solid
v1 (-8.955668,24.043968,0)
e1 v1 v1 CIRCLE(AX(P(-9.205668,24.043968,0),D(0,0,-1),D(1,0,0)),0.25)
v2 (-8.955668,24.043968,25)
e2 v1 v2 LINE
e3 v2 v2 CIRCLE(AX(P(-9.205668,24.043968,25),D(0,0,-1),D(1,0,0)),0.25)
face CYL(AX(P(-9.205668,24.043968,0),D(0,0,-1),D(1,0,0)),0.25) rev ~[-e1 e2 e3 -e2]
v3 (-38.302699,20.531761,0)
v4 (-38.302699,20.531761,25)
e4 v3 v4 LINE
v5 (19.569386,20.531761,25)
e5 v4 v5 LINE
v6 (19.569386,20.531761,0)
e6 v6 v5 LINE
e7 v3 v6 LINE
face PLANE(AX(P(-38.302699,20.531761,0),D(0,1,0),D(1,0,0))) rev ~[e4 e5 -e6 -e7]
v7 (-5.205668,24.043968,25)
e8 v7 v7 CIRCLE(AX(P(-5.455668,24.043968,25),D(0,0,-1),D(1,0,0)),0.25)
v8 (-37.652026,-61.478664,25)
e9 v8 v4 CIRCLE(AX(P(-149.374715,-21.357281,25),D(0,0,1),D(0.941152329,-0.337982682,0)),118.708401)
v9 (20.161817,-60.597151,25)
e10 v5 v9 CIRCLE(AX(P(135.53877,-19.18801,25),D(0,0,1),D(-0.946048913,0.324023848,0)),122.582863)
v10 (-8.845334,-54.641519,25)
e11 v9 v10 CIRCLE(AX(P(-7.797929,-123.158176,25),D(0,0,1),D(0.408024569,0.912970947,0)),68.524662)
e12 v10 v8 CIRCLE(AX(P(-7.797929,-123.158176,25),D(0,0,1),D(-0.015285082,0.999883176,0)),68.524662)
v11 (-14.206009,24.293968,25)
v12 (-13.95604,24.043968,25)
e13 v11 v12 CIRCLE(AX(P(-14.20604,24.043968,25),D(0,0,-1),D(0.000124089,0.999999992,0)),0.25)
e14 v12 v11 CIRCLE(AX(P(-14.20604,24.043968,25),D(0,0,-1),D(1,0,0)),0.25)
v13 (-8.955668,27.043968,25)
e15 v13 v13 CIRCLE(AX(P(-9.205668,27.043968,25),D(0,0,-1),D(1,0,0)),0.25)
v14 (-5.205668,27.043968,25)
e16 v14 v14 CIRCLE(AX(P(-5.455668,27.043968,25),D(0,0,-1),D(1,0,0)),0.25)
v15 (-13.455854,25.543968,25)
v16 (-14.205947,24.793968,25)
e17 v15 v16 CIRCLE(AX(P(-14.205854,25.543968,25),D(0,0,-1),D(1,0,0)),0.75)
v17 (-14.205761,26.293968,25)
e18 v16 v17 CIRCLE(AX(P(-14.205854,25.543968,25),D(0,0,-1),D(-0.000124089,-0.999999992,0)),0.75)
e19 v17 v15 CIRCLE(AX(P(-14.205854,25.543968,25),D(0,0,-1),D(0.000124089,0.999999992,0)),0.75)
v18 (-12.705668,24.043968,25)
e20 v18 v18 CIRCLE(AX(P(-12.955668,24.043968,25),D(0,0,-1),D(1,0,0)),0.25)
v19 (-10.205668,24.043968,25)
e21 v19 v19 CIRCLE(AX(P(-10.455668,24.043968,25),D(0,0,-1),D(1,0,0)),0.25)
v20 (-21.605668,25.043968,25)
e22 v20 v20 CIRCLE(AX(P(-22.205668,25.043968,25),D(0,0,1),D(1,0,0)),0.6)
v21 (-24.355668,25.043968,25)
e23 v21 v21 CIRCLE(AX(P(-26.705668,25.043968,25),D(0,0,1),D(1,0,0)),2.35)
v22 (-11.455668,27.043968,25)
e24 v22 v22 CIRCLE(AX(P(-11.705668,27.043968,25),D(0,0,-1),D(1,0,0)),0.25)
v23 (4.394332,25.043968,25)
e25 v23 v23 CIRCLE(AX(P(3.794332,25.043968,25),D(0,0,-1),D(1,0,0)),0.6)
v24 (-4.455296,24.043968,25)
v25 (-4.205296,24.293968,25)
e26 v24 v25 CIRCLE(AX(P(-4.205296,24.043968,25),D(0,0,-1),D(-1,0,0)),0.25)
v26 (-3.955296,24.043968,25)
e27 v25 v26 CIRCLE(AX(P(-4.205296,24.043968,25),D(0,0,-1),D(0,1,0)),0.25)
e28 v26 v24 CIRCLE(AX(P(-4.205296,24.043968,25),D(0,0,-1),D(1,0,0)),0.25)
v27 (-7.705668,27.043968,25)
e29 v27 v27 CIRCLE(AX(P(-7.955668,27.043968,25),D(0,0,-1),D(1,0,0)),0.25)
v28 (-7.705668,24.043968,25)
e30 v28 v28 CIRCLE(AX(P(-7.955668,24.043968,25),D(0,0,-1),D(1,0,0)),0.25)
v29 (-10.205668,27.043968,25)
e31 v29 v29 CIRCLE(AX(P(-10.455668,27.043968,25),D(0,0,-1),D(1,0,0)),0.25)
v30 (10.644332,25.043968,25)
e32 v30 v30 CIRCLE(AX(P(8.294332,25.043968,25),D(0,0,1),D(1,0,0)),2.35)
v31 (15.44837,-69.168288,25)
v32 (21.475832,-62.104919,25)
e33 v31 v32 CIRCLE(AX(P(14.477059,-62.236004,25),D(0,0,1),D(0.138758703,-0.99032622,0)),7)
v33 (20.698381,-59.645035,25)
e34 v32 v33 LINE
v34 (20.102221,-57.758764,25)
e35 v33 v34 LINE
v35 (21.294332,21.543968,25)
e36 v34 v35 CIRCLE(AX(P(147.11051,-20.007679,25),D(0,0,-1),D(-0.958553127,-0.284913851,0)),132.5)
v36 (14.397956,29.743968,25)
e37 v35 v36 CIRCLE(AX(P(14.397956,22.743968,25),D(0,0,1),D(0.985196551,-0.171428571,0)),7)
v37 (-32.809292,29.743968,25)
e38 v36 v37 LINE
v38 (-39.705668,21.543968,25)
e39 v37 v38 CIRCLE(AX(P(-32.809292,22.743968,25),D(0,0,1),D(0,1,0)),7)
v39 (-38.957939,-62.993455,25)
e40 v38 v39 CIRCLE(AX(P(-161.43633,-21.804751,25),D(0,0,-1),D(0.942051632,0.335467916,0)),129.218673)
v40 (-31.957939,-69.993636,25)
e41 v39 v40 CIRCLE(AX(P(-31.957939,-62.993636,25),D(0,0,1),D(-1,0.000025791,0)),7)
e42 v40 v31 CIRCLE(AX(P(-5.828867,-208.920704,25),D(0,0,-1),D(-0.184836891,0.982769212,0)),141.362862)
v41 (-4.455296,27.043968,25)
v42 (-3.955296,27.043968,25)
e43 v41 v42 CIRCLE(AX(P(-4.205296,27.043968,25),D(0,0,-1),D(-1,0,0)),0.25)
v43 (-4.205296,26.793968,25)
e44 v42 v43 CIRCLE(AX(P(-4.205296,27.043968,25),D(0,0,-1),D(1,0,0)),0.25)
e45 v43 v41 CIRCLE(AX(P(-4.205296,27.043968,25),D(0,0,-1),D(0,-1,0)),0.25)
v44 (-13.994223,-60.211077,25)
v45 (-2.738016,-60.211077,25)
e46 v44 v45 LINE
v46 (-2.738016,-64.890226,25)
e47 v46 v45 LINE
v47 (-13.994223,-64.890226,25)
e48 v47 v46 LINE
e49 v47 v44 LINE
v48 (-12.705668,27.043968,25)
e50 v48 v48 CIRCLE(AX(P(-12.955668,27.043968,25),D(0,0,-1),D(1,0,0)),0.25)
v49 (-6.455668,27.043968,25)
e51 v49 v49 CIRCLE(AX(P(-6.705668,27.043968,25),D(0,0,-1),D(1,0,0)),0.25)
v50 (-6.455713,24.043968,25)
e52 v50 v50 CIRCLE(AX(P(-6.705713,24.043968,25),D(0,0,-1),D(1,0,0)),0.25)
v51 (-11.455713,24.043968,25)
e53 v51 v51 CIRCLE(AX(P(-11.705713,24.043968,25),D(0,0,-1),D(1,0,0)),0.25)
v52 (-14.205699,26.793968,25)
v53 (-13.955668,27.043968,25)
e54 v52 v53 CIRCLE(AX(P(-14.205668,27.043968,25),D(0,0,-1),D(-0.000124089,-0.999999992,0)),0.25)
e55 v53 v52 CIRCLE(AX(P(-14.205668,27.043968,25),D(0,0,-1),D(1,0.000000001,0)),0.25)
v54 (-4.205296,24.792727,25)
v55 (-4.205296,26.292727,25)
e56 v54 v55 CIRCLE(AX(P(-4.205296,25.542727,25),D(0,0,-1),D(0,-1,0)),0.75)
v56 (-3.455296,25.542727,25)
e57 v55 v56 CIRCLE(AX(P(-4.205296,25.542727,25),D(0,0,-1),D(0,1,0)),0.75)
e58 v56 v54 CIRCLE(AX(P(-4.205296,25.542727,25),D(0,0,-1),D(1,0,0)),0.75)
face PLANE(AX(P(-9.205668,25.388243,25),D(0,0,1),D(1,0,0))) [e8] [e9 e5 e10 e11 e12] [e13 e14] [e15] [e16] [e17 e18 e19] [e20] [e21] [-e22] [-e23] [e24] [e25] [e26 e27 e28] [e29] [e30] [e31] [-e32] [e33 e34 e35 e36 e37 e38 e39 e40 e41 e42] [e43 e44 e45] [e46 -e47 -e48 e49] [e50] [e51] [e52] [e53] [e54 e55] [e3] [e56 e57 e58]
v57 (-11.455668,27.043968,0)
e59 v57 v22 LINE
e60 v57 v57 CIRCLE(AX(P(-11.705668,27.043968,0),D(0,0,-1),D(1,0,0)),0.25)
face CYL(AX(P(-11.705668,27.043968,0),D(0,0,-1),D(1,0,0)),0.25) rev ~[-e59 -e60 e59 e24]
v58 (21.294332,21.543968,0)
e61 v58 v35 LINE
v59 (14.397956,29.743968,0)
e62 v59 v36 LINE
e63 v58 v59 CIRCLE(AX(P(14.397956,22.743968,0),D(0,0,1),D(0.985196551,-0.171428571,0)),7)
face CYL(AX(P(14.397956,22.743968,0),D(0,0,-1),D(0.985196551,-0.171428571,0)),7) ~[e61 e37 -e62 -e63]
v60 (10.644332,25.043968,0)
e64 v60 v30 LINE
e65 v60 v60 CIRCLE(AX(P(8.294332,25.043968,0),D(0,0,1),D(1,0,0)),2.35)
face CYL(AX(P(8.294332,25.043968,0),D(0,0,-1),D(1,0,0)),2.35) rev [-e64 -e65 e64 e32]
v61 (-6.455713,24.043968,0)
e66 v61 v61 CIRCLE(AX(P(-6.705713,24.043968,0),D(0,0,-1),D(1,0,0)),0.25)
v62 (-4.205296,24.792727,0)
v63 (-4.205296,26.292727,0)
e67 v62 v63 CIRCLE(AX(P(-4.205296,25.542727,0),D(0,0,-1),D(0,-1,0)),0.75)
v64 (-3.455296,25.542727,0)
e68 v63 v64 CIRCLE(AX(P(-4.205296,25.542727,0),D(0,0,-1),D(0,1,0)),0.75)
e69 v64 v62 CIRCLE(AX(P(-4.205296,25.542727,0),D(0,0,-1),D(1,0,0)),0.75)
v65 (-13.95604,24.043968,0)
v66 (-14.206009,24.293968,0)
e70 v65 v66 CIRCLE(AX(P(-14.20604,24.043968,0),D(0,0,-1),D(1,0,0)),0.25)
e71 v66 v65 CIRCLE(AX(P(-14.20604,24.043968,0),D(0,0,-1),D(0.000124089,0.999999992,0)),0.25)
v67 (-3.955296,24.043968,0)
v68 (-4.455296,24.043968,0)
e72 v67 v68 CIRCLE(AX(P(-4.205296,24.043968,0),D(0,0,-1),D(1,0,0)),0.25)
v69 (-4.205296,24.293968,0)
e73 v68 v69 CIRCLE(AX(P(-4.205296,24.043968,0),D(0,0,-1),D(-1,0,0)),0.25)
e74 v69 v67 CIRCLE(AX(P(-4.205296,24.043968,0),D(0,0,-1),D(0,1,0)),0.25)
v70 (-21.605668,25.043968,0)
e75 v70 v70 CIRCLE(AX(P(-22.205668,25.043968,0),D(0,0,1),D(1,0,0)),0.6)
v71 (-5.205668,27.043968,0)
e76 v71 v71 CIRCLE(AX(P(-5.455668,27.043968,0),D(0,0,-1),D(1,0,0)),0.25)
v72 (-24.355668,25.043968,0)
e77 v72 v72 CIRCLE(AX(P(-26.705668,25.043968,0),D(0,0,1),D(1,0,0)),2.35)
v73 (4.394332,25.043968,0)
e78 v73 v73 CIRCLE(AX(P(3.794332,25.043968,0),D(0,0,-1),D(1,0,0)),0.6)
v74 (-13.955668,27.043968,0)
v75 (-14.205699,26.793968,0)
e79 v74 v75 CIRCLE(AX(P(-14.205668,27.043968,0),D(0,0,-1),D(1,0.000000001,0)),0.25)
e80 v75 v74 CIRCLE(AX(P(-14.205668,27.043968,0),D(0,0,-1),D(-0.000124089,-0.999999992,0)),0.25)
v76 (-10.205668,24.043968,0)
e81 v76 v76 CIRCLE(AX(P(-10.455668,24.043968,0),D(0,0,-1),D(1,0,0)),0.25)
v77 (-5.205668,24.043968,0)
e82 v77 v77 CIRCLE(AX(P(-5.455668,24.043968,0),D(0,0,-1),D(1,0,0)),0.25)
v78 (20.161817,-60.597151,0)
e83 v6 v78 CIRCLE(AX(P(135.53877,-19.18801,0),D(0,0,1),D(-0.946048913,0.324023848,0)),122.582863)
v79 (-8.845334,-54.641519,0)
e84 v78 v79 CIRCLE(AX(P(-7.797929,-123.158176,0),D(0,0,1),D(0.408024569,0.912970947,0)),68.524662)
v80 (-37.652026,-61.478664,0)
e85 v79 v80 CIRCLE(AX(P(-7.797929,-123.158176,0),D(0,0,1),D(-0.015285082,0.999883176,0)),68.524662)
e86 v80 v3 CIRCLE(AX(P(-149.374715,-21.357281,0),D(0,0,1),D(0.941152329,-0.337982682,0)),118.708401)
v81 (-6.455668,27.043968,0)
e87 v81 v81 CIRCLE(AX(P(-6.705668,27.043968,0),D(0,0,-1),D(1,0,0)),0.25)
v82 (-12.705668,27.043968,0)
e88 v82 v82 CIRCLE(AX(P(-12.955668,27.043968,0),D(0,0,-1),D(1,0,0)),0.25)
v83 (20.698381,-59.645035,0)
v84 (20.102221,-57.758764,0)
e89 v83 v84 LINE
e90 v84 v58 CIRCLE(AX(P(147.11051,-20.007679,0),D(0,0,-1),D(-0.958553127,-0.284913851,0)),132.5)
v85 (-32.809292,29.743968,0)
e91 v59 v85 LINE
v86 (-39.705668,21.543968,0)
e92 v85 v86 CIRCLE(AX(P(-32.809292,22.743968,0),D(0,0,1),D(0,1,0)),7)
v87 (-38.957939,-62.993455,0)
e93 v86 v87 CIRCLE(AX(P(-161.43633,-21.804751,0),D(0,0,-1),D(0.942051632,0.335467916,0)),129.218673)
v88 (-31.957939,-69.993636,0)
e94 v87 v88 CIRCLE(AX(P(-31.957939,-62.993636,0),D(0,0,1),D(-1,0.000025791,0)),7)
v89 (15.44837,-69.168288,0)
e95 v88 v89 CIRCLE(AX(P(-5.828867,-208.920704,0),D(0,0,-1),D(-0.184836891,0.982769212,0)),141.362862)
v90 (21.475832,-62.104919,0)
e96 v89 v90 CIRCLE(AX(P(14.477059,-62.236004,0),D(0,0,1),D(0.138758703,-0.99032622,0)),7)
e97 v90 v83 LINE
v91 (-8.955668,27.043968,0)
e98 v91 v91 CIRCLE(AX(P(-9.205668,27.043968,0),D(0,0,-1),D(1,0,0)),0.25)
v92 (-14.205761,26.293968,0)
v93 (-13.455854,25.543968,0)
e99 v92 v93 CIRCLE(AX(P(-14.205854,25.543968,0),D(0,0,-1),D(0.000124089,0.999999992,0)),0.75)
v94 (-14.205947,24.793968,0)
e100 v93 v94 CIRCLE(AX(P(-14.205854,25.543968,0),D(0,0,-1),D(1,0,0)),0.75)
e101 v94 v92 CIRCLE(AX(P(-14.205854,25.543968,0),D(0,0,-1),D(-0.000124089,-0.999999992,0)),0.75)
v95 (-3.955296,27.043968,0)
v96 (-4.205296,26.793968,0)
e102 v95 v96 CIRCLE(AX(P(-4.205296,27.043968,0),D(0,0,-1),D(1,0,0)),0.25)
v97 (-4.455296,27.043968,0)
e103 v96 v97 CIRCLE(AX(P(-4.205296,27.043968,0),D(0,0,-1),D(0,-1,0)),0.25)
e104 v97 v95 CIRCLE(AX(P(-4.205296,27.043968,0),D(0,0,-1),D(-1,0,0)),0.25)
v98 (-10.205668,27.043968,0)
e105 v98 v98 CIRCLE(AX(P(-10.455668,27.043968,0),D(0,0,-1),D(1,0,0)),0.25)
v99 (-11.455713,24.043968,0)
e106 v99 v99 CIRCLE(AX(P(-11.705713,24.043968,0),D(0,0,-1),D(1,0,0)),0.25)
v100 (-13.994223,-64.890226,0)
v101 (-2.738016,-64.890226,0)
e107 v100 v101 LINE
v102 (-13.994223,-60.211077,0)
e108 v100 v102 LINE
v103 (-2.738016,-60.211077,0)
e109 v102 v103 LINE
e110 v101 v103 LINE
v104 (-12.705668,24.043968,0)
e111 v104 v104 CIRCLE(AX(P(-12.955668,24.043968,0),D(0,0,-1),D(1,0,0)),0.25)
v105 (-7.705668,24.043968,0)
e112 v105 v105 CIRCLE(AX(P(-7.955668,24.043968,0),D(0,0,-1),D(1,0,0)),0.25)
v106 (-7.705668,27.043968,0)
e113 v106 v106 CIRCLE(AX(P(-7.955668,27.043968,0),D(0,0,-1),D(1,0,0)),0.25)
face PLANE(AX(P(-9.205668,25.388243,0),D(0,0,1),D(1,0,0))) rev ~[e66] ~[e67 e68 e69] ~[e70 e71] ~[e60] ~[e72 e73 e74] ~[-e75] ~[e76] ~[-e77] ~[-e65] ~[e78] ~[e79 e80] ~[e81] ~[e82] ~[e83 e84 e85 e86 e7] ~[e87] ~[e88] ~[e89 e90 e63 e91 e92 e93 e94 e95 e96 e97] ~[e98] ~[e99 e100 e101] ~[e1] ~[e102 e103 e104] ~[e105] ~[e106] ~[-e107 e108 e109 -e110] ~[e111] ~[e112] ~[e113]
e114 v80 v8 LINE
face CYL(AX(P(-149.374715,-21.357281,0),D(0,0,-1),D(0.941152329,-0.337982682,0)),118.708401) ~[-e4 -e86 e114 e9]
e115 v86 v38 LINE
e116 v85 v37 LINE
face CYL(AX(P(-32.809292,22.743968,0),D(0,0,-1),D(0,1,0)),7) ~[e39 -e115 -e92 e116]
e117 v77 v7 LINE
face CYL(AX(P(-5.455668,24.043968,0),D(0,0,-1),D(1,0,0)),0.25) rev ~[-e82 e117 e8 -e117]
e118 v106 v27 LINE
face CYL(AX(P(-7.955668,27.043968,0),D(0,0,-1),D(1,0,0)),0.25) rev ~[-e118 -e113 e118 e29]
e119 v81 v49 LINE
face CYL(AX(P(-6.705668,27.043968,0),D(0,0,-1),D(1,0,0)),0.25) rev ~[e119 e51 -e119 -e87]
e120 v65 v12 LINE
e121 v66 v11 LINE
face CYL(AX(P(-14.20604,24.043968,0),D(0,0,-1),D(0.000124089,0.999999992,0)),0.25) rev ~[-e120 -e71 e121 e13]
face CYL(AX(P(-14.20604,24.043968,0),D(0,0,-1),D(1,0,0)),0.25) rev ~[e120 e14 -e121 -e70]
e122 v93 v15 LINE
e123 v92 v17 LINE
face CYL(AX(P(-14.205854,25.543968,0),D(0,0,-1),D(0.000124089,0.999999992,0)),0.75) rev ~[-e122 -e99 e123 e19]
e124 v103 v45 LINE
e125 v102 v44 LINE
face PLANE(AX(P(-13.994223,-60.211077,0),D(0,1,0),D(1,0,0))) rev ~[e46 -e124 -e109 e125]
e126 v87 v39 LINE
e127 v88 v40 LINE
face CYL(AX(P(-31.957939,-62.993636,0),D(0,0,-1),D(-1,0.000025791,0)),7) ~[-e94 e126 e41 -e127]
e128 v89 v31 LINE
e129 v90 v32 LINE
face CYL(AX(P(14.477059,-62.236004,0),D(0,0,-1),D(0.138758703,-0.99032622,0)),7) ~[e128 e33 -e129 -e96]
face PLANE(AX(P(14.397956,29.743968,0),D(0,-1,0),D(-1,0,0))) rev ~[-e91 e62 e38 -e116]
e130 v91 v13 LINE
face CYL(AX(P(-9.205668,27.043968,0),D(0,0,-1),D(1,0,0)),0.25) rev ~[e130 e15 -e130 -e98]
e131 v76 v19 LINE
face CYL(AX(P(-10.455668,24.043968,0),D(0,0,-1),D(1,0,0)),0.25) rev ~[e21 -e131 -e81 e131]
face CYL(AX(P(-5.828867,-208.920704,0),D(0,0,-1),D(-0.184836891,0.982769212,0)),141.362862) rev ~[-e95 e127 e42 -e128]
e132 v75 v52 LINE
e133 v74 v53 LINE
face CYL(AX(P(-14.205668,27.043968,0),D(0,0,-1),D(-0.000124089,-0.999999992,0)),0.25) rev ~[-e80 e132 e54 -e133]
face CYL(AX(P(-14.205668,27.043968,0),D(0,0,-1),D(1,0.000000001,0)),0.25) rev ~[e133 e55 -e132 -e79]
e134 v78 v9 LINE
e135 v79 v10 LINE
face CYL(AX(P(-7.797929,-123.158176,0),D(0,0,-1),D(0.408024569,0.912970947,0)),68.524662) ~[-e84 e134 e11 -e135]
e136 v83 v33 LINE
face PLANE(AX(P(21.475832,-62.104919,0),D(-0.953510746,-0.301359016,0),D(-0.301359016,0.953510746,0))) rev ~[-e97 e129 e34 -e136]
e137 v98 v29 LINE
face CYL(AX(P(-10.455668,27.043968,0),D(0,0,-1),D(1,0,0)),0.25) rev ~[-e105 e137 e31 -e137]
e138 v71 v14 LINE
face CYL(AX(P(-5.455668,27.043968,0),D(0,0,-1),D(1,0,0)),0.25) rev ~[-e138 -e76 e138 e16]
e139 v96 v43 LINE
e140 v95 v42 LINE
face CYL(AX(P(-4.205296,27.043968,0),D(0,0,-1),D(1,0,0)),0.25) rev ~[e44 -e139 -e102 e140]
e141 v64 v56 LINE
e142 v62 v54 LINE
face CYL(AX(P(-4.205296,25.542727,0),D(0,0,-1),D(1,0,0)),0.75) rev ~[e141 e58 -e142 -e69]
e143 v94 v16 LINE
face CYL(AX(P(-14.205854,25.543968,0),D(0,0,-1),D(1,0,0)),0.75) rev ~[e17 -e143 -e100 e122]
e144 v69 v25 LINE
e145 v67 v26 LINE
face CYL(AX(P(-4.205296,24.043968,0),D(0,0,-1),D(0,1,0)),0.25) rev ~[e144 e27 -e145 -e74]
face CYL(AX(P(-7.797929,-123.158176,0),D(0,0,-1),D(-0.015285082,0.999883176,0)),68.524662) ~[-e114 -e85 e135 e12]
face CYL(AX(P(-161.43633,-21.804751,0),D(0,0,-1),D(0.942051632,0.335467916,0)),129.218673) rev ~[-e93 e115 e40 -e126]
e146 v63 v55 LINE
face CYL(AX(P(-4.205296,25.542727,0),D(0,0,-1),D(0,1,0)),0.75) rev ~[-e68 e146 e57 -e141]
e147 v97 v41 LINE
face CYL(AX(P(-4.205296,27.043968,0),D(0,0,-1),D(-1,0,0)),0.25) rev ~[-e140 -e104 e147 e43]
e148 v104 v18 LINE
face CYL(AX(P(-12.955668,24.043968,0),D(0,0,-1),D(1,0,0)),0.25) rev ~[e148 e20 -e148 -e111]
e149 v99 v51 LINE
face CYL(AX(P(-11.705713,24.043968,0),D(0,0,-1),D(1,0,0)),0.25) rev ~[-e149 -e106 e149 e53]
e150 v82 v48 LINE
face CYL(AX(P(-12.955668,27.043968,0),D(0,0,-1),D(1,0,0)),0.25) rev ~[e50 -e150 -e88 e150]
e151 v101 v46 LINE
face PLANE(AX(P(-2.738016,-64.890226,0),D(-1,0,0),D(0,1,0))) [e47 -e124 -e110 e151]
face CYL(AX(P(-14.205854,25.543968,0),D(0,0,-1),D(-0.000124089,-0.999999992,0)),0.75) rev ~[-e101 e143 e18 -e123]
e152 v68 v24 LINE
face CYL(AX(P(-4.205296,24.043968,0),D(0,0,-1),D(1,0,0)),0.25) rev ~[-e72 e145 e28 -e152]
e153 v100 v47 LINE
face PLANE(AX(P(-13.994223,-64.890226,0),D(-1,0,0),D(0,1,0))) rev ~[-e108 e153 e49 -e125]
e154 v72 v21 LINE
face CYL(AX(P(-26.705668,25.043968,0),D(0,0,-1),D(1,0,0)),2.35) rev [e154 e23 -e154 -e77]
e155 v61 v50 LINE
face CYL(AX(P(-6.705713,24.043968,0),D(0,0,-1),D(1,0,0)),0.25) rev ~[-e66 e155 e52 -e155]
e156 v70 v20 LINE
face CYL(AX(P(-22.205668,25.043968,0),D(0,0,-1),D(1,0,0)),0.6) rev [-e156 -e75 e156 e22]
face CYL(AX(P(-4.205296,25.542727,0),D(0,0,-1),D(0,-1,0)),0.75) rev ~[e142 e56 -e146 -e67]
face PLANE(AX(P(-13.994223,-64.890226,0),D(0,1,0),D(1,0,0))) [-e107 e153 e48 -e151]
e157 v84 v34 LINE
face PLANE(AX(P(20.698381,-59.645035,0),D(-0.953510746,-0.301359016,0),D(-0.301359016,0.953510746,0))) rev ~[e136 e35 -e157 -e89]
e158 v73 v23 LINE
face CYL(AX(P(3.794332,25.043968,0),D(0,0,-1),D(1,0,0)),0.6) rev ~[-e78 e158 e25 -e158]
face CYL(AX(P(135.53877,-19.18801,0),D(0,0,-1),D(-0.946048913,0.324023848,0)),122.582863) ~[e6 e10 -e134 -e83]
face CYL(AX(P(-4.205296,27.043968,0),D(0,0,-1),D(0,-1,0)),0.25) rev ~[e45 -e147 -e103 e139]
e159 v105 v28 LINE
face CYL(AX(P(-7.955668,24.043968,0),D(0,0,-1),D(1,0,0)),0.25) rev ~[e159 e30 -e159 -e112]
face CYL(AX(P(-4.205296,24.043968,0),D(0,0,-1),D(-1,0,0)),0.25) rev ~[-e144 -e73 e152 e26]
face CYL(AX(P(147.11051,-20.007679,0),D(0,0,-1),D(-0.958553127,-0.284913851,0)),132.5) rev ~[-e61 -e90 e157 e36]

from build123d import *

# Parameters (mm, degrees)
F0_R     = 2.35
F0_R_2   = 0.6
F0_W     = 11.2562068871
F0_H     = 4.6791491237
F1_DEPTH = 25


with BuildPart() as f1:
    # F0 (on Top) → F1 (new body)
    with BuildSketch(Plane.XY):
        with BuildLine():
            Line((14.3979561755, 29.7439676553), (-32.8092921048, 29.7439676553))
            ThreePointArc((-32.8092921048, 29.7439676553), (-38.1665301992, 27.2495197857), (-39.7056679646, 21.5439676553))
            Line((-39.7056679646, 21.5439676553), (21.2943320354, 21.5439676553))
            ThreePointArc((21.2943320354, 21.5439676553), (19.7551942699, 27.2495197857), (14.3979561755, 29.7439676553))
        make_face()
        with Locations((-26.7056679646, 25.0439676553)):
            Circle(F0_R, mode=Mode.SUBTRACT)
        with Locations((-22.2056679646, 25.0439676553)):
            Circle(F0_R_2, mode=Mode.SUBTRACT)
        with BuildLine():
            ThreePointArc((-14.2060092107, 24.2939676534), (-14.0292525699, 24.2207333822), (-13.9560402329, 24.0439676553))
            ThreePointArc((-13.9560402329, 24.0439676553), (-14.3828278959, 23.8672019284), (-14.2060092107, 24.2939676534))
        make_face(mode=Mode.SUBTRACT)
        with BuildLine():
            ThreePointArc((-13.4558540993, 25.5439676553), (-13.6755569185, 25.0136046664), (-14.2059471661, 24.7939676611))
            ThreePointArc((-14.2059471661, 24.7939676611), (-14.9558540936, 25.5440607221), (-14.2057610325, 26.2939676495))
            ThreePointArc((-14.2057610325, 26.2939676495), (-13.6754911104, 26.0742648361), (-13.4558540993, 25.5439676553))
        make_face(mode=Mode.SUBTRACT)
        with BuildLine():
            ThreePointArc((-13.9556679658, 27.0439676553), (-14.0289022388, 26.8671799923), (-14.205698988, 26.7939676572))
            ThreePointArc((-14.205698988, 26.7939676572), (-14.3824336927, 27.2207553183), (-13.9556679658, 27.0439676553))
        make_face(mode=Mode.SUBTRACT)
        with BuildLine():
            ThreePointArc((-13.2056679646, 24.0439676553), (-12.9556679646, 24.2939676553), (-12.7056679646, 24.0439676553))
            ThreePointArc((-12.7056679646, 24.0439676553), (-12.9556679646, 23.7939676553), (-13.2056679646, 24.0439676553))
        make_face(mode=Mode.SUBTRACT)
        with BuildLine():
            ThreePointArc((-11.9557127462, 24.0439676553), (-11.7057127462, 24.2939676553), (-11.4557127462, 24.0439676553))
            ThreePointArc((-11.4557127462, 24.0439676553), (-11.7057127462, 23.7939676553), (-11.9557127462, 24.0439676553))
        make_face(mode=Mode.SUBTRACT)
        with BuildLine():
            ThreePointArc((-10.7056679646, 24.0439676553), (-10.4556679646, 24.2939676553), (-10.2056679646, 24.0439676553))
            ThreePointArc((-10.2056679646, 24.0439676553), (-10.4556679646, 23.7939676553), (-10.7056679646, 24.0439676553))
        make_face(mode=Mode.SUBTRACT)
        with BuildLine():
            ThreePointArc((-9.4556679644, 24.0439676553), (-9.2056679644, 24.2939676553), (-8.9556679644, 24.0439676553))
            ThreePointArc((-8.9556679644, 24.0439676553), (-9.2056679644, 23.7939676553), (-9.4556679644, 24.0439676553))
        make_face(mode=Mode.SUBTRACT)
        with BuildLine():
            ThreePointArc((-13.2056679651, 27.0439676553), (-12.9556679651, 27.2939676553), (-12.7056679651, 27.0439676553))
            ThreePointArc((-12.7056679651, 27.0439676553), (-12.9556679651, 26.7939676553), (-13.2056679651, 27.0439676553))
        make_face(mode=Mode.SUBTRACT)
        with BuildLine():
            ThreePointArc((-11.9556679649, 27.0439676553), (-11.7056679649, 27.2939676553), (-11.4556679649, 27.0439676553))
            ThreePointArc((-11.4556679649, 27.0439676553), (-11.7056679649, 26.7939676553), (-11.9556679649, 27.0439676553))
        make_face(mode=Mode.SUBTRACT)
        with BuildLine():
            ThreePointArc((-10.7056679648, 27.0439676553), (-10.4556679648, 27.2939676553), (-10.2056679648, 27.0439676553))
            ThreePointArc((-10.2056679648, 27.0439676553), (-10.4556679648, 26.7939676553), (-10.7056679648, 27.0439676553))
        make_face(mode=Mode.SUBTRACT)
        with BuildLine():
            ThreePointArc((-9.4556679646, 27.0439676553), (-9.2056679646, 27.2939676553), (-8.9556679646, 27.0439676553))
            ThreePointArc((-8.9556679646, 27.0439676553), (-9.2056679646, 26.7939676553), (-9.4556679646, 27.0439676553))
        make_face(mode=Mode.SUBTRACT)
        with BuildLine():
            ThreePointArc((-8.2056679646, 24.0439676553), (-7.9556679646, 24.2939676553), (-7.7056679646, 24.0439676553))
            ThreePointArc((-7.7056679646, 24.0439676553), (-7.9556679646, 23.7939676553), (-8.2056679646, 24.0439676553))
        make_face(mode=Mode.SUBTRACT)
        with BuildLine():
            ThreePointArc((-6.9557127451, 24.0439676553), (-6.7057127451, 24.2939676553), (-6.4557127451, 24.0439676553))
            ThreePointArc((-6.4557127451, 24.0439676553), (-6.7057127451, 23.7939676553), (-6.9557127451, 24.0439676553))
        make_face(mode=Mode.SUBTRACT)
        with BuildLine():
            ThreePointArc((-5.7056679646, 24.0439676553), (-5.4556679646, 24.2939676553), (-5.2056679646, 24.0439676553))
            ThreePointArc((-5.2056679646, 24.0439676553), (-5.4556679646, 23.7939676553), (-5.7056679646, 24.0439676553))
        make_face(mode=Mode.SUBTRACT)
        with BuildLine():
            ThreePointArc((-8.2056679645, 27.0439676553), (-7.9556679645, 27.2939676553), (-7.7056679645, 27.0439676553))
            ThreePointArc((-7.7056679645, 27.0439676553), (-7.9556679645, 26.7939676553), (-8.2056679645, 27.0439676553))
        make_face(mode=Mode.SUBTRACT)
        with BuildLine():
            ThreePointArc((-6.9556679644, 27.0439676553), (-6.7056679644, 27.2939676553), (-6.4556679644, 27.0439676553))
            ThreePointArc((-6.4556679644, 27.0439676553), (-6.7056679644, 26.7939676553), (-6.9556679644, 27.0439676553))
        make_face(mode=Mode.SUBTRACT)
        with BuildLine():
            ThreePointArc((-5.7056679642, 27.0439676553), (-5.4556679642, 27.2939676553), (-5.2056679642, 27.0439676553))
            ThreePointArc((-5.2056679642, 27.0439676553), (-5.4556679642, 26.7939676553), (-5.7056679642, 27.0439676553))
        make_face(mode=Mode.SUBTRACT)
        with BuildLine():
            ThreePointArc((-4.4552956958, 24.0439676553), (-4.3820723911, 24.2207443506), (-4.2052956958, 24.2939676553))
            ThreePointArc((-4.2052956958, 24.2939676553), (-4.0285190005, 24.2207443506), (-3.9552956958, 24.0439676553))
            ThreePointArc((-3.9552956958, 24.0439676553), (-4.2052956958, 23.7939676553), (-4.4552956958, 24.0439676553))
        make_face(mode=Mode.SUBTRACT)
        with BuildLine():
            ThreePointArc((-4.2052956958, 26.2927266955), (-3.6749656099, 26.0730567814), (-3.4552956958, 25.5427266955))
            ThreePointArc((-3.4552956958, 25.5427266955), (-3.6749656099, 25.0123966096), (-4.2052956958, 24.7927266955))
            ThreePointArc((-4.2052956958, 24.7927266955), (-4.9552956958, 25.5427266955), (-4.2052956958, 26.2927266955))
        make_face(mode=Mode.SUBTRACT)
        with BuildLine():
            ThreePointArc((-4.4552956958, 27.0439676553), (-4.2052956958, 27.2939676553), (-3.9552956958, 27.0439676553))
            ThreePointArc((-3.9552956958, 27.0439676553), (-4.0285190005, 26.86719096), (-4.2052956958, 26.7939676553))
            ThreePointArc((-4.2052956958, 26.7939676553), (-4.3820723911, 26.86719096), (-4.4552956958, 27.0439676553))
        make_face(mode=Mode.SUBTRACT)
        with BuildLine():
            ThreePointArc((3.1943320354, 25.0439676553), (3.7943320354, 25.6439676553), (4.3943320354, 25.0439676553))
            ThreePointArc((4.3943320354, 25.0439676553), (3.7943320354, 24.4439676553), (3.1943320354, 25.0439676553))
        make_face(mode=Mode.SUBTRACT)
        with Locations((8.2943320354, 25.0439676553)):
            Circle(F0_R, mode=Mode.SUBTRACT)
        with BuildLine():
            Line((21.2943320354, 21.5439676553), (-39.7056679646, 21.5439676553))
            ThreePointArc((-39.7056679646, 21.5439676553), (-32.2227110241, -20.6618643282), (-38.9579393192, -62.9934553426))
            ThreePointArc((-38.9579393192, -62.9934553426), (-24.3057130509, -57.6752555094), (-8.8414815134, -55.7185932914))
            ThreePointArc((-8.8414815134, -55.7185932914), (6.6735895327, -57.2197776633), (21.4758319523, -62.1049187496))
            ThreePointArc((21.4758319523, -62.1049187496), (21.0704059046, -60.8750508624), (20.6770190087, -59.6412793882))
            ThreePointArc((20.6770190087, -59.6412793882), (20.3861242332, -58.701088988), (20.102220838, -57.7587638735))
            ThreePointArc((20.102220838, -57.7587638735), (14.6254783963, -18.0161093174), (21.2943320354, 21.5439676553))
        make_face()
        with BuildLine():
            ThreePointArc((20.1618171154, -60.5971505286), (5.9837949331, -56.0337141088), (-8.8453337957, -54.6415194007))
            ThreePointArc((-8.8453337957, -54.6415194007), (-23.6223514922, -56.4857159211), (-37.6520263883, -61.4786644604))
            ThreePointArc((-37.6520263883, -61.4786644604), (-30.6700495718, -20.4154751217), (-38.3026989884, 20.5317614372))
            Line((-38.3026989884, 20.5317614372), (19.5693860733, 20.5317614372))
            ThreePointArc((19.5693860733, 20.5317614372), (12.9591755519, -20.083127629), (20.1618171154, -60.5971505286))
        make_face(mode=Mode.SUBTRACT)
        with BuildLine():
            ThreePointArc((-8.8414815134, -55.7185932914), (-24.3057130509, -57.6752555094), (-38.9579393192, -62.9934553426))
            ThreePointArc((-38.9579393192, -62.9934553426), (-36.9077506183, -67.9433195168), (-31.9579393215, -69.9936358778))
            ThreePointArc((-31.9579393215, -69.9936358778), (-8.2896342498, -67.5792618139), (15.448370366, -69.168287914))
            ThreePointArc((15.448370366, -69.168287914), (19.8018461507, -66.7798624881), (21.4758319523, -62.1049187496))
            ThreePointArc((21.4758319523, -62.1049187496), (6.6735895327, -57.2197776633), (-8.8414815134, -55.7185932914))
        make_face()
        with Locations((-8.3661192098, -62.5506510849)):
            Rectangle(F0_W, F0_H, mode=Mode.SUBTRACT)
        with BuildLine():
            Line((20.6983805739, -59.645034679), (20.102220838, -57.7587638735))
            ThreePointArc((20.102220838, -57.7587638735), (20.3861242332, -58.701088988), (20.6770190087, -59.6412793882))
            Line((20.6770190087, -59.6412793882), (20.6983805739, -59.645034679))
        make_face()
        with BuildLine():
            Line((20.6983805739, -59.645034679), (20.6770190087, -59.6412793882))
            ThreePointArc((20.6770190087, -59.6412793882), (21.0704059046, -60.8750508624), (21.4758319523, -62.1049187496))
            Line((21.4758319523, -62.1049187496), (20.6983805739, -59.645034679))
        make_face()
    extrude(amount=F1_DEPTH)


solid = f1.part
